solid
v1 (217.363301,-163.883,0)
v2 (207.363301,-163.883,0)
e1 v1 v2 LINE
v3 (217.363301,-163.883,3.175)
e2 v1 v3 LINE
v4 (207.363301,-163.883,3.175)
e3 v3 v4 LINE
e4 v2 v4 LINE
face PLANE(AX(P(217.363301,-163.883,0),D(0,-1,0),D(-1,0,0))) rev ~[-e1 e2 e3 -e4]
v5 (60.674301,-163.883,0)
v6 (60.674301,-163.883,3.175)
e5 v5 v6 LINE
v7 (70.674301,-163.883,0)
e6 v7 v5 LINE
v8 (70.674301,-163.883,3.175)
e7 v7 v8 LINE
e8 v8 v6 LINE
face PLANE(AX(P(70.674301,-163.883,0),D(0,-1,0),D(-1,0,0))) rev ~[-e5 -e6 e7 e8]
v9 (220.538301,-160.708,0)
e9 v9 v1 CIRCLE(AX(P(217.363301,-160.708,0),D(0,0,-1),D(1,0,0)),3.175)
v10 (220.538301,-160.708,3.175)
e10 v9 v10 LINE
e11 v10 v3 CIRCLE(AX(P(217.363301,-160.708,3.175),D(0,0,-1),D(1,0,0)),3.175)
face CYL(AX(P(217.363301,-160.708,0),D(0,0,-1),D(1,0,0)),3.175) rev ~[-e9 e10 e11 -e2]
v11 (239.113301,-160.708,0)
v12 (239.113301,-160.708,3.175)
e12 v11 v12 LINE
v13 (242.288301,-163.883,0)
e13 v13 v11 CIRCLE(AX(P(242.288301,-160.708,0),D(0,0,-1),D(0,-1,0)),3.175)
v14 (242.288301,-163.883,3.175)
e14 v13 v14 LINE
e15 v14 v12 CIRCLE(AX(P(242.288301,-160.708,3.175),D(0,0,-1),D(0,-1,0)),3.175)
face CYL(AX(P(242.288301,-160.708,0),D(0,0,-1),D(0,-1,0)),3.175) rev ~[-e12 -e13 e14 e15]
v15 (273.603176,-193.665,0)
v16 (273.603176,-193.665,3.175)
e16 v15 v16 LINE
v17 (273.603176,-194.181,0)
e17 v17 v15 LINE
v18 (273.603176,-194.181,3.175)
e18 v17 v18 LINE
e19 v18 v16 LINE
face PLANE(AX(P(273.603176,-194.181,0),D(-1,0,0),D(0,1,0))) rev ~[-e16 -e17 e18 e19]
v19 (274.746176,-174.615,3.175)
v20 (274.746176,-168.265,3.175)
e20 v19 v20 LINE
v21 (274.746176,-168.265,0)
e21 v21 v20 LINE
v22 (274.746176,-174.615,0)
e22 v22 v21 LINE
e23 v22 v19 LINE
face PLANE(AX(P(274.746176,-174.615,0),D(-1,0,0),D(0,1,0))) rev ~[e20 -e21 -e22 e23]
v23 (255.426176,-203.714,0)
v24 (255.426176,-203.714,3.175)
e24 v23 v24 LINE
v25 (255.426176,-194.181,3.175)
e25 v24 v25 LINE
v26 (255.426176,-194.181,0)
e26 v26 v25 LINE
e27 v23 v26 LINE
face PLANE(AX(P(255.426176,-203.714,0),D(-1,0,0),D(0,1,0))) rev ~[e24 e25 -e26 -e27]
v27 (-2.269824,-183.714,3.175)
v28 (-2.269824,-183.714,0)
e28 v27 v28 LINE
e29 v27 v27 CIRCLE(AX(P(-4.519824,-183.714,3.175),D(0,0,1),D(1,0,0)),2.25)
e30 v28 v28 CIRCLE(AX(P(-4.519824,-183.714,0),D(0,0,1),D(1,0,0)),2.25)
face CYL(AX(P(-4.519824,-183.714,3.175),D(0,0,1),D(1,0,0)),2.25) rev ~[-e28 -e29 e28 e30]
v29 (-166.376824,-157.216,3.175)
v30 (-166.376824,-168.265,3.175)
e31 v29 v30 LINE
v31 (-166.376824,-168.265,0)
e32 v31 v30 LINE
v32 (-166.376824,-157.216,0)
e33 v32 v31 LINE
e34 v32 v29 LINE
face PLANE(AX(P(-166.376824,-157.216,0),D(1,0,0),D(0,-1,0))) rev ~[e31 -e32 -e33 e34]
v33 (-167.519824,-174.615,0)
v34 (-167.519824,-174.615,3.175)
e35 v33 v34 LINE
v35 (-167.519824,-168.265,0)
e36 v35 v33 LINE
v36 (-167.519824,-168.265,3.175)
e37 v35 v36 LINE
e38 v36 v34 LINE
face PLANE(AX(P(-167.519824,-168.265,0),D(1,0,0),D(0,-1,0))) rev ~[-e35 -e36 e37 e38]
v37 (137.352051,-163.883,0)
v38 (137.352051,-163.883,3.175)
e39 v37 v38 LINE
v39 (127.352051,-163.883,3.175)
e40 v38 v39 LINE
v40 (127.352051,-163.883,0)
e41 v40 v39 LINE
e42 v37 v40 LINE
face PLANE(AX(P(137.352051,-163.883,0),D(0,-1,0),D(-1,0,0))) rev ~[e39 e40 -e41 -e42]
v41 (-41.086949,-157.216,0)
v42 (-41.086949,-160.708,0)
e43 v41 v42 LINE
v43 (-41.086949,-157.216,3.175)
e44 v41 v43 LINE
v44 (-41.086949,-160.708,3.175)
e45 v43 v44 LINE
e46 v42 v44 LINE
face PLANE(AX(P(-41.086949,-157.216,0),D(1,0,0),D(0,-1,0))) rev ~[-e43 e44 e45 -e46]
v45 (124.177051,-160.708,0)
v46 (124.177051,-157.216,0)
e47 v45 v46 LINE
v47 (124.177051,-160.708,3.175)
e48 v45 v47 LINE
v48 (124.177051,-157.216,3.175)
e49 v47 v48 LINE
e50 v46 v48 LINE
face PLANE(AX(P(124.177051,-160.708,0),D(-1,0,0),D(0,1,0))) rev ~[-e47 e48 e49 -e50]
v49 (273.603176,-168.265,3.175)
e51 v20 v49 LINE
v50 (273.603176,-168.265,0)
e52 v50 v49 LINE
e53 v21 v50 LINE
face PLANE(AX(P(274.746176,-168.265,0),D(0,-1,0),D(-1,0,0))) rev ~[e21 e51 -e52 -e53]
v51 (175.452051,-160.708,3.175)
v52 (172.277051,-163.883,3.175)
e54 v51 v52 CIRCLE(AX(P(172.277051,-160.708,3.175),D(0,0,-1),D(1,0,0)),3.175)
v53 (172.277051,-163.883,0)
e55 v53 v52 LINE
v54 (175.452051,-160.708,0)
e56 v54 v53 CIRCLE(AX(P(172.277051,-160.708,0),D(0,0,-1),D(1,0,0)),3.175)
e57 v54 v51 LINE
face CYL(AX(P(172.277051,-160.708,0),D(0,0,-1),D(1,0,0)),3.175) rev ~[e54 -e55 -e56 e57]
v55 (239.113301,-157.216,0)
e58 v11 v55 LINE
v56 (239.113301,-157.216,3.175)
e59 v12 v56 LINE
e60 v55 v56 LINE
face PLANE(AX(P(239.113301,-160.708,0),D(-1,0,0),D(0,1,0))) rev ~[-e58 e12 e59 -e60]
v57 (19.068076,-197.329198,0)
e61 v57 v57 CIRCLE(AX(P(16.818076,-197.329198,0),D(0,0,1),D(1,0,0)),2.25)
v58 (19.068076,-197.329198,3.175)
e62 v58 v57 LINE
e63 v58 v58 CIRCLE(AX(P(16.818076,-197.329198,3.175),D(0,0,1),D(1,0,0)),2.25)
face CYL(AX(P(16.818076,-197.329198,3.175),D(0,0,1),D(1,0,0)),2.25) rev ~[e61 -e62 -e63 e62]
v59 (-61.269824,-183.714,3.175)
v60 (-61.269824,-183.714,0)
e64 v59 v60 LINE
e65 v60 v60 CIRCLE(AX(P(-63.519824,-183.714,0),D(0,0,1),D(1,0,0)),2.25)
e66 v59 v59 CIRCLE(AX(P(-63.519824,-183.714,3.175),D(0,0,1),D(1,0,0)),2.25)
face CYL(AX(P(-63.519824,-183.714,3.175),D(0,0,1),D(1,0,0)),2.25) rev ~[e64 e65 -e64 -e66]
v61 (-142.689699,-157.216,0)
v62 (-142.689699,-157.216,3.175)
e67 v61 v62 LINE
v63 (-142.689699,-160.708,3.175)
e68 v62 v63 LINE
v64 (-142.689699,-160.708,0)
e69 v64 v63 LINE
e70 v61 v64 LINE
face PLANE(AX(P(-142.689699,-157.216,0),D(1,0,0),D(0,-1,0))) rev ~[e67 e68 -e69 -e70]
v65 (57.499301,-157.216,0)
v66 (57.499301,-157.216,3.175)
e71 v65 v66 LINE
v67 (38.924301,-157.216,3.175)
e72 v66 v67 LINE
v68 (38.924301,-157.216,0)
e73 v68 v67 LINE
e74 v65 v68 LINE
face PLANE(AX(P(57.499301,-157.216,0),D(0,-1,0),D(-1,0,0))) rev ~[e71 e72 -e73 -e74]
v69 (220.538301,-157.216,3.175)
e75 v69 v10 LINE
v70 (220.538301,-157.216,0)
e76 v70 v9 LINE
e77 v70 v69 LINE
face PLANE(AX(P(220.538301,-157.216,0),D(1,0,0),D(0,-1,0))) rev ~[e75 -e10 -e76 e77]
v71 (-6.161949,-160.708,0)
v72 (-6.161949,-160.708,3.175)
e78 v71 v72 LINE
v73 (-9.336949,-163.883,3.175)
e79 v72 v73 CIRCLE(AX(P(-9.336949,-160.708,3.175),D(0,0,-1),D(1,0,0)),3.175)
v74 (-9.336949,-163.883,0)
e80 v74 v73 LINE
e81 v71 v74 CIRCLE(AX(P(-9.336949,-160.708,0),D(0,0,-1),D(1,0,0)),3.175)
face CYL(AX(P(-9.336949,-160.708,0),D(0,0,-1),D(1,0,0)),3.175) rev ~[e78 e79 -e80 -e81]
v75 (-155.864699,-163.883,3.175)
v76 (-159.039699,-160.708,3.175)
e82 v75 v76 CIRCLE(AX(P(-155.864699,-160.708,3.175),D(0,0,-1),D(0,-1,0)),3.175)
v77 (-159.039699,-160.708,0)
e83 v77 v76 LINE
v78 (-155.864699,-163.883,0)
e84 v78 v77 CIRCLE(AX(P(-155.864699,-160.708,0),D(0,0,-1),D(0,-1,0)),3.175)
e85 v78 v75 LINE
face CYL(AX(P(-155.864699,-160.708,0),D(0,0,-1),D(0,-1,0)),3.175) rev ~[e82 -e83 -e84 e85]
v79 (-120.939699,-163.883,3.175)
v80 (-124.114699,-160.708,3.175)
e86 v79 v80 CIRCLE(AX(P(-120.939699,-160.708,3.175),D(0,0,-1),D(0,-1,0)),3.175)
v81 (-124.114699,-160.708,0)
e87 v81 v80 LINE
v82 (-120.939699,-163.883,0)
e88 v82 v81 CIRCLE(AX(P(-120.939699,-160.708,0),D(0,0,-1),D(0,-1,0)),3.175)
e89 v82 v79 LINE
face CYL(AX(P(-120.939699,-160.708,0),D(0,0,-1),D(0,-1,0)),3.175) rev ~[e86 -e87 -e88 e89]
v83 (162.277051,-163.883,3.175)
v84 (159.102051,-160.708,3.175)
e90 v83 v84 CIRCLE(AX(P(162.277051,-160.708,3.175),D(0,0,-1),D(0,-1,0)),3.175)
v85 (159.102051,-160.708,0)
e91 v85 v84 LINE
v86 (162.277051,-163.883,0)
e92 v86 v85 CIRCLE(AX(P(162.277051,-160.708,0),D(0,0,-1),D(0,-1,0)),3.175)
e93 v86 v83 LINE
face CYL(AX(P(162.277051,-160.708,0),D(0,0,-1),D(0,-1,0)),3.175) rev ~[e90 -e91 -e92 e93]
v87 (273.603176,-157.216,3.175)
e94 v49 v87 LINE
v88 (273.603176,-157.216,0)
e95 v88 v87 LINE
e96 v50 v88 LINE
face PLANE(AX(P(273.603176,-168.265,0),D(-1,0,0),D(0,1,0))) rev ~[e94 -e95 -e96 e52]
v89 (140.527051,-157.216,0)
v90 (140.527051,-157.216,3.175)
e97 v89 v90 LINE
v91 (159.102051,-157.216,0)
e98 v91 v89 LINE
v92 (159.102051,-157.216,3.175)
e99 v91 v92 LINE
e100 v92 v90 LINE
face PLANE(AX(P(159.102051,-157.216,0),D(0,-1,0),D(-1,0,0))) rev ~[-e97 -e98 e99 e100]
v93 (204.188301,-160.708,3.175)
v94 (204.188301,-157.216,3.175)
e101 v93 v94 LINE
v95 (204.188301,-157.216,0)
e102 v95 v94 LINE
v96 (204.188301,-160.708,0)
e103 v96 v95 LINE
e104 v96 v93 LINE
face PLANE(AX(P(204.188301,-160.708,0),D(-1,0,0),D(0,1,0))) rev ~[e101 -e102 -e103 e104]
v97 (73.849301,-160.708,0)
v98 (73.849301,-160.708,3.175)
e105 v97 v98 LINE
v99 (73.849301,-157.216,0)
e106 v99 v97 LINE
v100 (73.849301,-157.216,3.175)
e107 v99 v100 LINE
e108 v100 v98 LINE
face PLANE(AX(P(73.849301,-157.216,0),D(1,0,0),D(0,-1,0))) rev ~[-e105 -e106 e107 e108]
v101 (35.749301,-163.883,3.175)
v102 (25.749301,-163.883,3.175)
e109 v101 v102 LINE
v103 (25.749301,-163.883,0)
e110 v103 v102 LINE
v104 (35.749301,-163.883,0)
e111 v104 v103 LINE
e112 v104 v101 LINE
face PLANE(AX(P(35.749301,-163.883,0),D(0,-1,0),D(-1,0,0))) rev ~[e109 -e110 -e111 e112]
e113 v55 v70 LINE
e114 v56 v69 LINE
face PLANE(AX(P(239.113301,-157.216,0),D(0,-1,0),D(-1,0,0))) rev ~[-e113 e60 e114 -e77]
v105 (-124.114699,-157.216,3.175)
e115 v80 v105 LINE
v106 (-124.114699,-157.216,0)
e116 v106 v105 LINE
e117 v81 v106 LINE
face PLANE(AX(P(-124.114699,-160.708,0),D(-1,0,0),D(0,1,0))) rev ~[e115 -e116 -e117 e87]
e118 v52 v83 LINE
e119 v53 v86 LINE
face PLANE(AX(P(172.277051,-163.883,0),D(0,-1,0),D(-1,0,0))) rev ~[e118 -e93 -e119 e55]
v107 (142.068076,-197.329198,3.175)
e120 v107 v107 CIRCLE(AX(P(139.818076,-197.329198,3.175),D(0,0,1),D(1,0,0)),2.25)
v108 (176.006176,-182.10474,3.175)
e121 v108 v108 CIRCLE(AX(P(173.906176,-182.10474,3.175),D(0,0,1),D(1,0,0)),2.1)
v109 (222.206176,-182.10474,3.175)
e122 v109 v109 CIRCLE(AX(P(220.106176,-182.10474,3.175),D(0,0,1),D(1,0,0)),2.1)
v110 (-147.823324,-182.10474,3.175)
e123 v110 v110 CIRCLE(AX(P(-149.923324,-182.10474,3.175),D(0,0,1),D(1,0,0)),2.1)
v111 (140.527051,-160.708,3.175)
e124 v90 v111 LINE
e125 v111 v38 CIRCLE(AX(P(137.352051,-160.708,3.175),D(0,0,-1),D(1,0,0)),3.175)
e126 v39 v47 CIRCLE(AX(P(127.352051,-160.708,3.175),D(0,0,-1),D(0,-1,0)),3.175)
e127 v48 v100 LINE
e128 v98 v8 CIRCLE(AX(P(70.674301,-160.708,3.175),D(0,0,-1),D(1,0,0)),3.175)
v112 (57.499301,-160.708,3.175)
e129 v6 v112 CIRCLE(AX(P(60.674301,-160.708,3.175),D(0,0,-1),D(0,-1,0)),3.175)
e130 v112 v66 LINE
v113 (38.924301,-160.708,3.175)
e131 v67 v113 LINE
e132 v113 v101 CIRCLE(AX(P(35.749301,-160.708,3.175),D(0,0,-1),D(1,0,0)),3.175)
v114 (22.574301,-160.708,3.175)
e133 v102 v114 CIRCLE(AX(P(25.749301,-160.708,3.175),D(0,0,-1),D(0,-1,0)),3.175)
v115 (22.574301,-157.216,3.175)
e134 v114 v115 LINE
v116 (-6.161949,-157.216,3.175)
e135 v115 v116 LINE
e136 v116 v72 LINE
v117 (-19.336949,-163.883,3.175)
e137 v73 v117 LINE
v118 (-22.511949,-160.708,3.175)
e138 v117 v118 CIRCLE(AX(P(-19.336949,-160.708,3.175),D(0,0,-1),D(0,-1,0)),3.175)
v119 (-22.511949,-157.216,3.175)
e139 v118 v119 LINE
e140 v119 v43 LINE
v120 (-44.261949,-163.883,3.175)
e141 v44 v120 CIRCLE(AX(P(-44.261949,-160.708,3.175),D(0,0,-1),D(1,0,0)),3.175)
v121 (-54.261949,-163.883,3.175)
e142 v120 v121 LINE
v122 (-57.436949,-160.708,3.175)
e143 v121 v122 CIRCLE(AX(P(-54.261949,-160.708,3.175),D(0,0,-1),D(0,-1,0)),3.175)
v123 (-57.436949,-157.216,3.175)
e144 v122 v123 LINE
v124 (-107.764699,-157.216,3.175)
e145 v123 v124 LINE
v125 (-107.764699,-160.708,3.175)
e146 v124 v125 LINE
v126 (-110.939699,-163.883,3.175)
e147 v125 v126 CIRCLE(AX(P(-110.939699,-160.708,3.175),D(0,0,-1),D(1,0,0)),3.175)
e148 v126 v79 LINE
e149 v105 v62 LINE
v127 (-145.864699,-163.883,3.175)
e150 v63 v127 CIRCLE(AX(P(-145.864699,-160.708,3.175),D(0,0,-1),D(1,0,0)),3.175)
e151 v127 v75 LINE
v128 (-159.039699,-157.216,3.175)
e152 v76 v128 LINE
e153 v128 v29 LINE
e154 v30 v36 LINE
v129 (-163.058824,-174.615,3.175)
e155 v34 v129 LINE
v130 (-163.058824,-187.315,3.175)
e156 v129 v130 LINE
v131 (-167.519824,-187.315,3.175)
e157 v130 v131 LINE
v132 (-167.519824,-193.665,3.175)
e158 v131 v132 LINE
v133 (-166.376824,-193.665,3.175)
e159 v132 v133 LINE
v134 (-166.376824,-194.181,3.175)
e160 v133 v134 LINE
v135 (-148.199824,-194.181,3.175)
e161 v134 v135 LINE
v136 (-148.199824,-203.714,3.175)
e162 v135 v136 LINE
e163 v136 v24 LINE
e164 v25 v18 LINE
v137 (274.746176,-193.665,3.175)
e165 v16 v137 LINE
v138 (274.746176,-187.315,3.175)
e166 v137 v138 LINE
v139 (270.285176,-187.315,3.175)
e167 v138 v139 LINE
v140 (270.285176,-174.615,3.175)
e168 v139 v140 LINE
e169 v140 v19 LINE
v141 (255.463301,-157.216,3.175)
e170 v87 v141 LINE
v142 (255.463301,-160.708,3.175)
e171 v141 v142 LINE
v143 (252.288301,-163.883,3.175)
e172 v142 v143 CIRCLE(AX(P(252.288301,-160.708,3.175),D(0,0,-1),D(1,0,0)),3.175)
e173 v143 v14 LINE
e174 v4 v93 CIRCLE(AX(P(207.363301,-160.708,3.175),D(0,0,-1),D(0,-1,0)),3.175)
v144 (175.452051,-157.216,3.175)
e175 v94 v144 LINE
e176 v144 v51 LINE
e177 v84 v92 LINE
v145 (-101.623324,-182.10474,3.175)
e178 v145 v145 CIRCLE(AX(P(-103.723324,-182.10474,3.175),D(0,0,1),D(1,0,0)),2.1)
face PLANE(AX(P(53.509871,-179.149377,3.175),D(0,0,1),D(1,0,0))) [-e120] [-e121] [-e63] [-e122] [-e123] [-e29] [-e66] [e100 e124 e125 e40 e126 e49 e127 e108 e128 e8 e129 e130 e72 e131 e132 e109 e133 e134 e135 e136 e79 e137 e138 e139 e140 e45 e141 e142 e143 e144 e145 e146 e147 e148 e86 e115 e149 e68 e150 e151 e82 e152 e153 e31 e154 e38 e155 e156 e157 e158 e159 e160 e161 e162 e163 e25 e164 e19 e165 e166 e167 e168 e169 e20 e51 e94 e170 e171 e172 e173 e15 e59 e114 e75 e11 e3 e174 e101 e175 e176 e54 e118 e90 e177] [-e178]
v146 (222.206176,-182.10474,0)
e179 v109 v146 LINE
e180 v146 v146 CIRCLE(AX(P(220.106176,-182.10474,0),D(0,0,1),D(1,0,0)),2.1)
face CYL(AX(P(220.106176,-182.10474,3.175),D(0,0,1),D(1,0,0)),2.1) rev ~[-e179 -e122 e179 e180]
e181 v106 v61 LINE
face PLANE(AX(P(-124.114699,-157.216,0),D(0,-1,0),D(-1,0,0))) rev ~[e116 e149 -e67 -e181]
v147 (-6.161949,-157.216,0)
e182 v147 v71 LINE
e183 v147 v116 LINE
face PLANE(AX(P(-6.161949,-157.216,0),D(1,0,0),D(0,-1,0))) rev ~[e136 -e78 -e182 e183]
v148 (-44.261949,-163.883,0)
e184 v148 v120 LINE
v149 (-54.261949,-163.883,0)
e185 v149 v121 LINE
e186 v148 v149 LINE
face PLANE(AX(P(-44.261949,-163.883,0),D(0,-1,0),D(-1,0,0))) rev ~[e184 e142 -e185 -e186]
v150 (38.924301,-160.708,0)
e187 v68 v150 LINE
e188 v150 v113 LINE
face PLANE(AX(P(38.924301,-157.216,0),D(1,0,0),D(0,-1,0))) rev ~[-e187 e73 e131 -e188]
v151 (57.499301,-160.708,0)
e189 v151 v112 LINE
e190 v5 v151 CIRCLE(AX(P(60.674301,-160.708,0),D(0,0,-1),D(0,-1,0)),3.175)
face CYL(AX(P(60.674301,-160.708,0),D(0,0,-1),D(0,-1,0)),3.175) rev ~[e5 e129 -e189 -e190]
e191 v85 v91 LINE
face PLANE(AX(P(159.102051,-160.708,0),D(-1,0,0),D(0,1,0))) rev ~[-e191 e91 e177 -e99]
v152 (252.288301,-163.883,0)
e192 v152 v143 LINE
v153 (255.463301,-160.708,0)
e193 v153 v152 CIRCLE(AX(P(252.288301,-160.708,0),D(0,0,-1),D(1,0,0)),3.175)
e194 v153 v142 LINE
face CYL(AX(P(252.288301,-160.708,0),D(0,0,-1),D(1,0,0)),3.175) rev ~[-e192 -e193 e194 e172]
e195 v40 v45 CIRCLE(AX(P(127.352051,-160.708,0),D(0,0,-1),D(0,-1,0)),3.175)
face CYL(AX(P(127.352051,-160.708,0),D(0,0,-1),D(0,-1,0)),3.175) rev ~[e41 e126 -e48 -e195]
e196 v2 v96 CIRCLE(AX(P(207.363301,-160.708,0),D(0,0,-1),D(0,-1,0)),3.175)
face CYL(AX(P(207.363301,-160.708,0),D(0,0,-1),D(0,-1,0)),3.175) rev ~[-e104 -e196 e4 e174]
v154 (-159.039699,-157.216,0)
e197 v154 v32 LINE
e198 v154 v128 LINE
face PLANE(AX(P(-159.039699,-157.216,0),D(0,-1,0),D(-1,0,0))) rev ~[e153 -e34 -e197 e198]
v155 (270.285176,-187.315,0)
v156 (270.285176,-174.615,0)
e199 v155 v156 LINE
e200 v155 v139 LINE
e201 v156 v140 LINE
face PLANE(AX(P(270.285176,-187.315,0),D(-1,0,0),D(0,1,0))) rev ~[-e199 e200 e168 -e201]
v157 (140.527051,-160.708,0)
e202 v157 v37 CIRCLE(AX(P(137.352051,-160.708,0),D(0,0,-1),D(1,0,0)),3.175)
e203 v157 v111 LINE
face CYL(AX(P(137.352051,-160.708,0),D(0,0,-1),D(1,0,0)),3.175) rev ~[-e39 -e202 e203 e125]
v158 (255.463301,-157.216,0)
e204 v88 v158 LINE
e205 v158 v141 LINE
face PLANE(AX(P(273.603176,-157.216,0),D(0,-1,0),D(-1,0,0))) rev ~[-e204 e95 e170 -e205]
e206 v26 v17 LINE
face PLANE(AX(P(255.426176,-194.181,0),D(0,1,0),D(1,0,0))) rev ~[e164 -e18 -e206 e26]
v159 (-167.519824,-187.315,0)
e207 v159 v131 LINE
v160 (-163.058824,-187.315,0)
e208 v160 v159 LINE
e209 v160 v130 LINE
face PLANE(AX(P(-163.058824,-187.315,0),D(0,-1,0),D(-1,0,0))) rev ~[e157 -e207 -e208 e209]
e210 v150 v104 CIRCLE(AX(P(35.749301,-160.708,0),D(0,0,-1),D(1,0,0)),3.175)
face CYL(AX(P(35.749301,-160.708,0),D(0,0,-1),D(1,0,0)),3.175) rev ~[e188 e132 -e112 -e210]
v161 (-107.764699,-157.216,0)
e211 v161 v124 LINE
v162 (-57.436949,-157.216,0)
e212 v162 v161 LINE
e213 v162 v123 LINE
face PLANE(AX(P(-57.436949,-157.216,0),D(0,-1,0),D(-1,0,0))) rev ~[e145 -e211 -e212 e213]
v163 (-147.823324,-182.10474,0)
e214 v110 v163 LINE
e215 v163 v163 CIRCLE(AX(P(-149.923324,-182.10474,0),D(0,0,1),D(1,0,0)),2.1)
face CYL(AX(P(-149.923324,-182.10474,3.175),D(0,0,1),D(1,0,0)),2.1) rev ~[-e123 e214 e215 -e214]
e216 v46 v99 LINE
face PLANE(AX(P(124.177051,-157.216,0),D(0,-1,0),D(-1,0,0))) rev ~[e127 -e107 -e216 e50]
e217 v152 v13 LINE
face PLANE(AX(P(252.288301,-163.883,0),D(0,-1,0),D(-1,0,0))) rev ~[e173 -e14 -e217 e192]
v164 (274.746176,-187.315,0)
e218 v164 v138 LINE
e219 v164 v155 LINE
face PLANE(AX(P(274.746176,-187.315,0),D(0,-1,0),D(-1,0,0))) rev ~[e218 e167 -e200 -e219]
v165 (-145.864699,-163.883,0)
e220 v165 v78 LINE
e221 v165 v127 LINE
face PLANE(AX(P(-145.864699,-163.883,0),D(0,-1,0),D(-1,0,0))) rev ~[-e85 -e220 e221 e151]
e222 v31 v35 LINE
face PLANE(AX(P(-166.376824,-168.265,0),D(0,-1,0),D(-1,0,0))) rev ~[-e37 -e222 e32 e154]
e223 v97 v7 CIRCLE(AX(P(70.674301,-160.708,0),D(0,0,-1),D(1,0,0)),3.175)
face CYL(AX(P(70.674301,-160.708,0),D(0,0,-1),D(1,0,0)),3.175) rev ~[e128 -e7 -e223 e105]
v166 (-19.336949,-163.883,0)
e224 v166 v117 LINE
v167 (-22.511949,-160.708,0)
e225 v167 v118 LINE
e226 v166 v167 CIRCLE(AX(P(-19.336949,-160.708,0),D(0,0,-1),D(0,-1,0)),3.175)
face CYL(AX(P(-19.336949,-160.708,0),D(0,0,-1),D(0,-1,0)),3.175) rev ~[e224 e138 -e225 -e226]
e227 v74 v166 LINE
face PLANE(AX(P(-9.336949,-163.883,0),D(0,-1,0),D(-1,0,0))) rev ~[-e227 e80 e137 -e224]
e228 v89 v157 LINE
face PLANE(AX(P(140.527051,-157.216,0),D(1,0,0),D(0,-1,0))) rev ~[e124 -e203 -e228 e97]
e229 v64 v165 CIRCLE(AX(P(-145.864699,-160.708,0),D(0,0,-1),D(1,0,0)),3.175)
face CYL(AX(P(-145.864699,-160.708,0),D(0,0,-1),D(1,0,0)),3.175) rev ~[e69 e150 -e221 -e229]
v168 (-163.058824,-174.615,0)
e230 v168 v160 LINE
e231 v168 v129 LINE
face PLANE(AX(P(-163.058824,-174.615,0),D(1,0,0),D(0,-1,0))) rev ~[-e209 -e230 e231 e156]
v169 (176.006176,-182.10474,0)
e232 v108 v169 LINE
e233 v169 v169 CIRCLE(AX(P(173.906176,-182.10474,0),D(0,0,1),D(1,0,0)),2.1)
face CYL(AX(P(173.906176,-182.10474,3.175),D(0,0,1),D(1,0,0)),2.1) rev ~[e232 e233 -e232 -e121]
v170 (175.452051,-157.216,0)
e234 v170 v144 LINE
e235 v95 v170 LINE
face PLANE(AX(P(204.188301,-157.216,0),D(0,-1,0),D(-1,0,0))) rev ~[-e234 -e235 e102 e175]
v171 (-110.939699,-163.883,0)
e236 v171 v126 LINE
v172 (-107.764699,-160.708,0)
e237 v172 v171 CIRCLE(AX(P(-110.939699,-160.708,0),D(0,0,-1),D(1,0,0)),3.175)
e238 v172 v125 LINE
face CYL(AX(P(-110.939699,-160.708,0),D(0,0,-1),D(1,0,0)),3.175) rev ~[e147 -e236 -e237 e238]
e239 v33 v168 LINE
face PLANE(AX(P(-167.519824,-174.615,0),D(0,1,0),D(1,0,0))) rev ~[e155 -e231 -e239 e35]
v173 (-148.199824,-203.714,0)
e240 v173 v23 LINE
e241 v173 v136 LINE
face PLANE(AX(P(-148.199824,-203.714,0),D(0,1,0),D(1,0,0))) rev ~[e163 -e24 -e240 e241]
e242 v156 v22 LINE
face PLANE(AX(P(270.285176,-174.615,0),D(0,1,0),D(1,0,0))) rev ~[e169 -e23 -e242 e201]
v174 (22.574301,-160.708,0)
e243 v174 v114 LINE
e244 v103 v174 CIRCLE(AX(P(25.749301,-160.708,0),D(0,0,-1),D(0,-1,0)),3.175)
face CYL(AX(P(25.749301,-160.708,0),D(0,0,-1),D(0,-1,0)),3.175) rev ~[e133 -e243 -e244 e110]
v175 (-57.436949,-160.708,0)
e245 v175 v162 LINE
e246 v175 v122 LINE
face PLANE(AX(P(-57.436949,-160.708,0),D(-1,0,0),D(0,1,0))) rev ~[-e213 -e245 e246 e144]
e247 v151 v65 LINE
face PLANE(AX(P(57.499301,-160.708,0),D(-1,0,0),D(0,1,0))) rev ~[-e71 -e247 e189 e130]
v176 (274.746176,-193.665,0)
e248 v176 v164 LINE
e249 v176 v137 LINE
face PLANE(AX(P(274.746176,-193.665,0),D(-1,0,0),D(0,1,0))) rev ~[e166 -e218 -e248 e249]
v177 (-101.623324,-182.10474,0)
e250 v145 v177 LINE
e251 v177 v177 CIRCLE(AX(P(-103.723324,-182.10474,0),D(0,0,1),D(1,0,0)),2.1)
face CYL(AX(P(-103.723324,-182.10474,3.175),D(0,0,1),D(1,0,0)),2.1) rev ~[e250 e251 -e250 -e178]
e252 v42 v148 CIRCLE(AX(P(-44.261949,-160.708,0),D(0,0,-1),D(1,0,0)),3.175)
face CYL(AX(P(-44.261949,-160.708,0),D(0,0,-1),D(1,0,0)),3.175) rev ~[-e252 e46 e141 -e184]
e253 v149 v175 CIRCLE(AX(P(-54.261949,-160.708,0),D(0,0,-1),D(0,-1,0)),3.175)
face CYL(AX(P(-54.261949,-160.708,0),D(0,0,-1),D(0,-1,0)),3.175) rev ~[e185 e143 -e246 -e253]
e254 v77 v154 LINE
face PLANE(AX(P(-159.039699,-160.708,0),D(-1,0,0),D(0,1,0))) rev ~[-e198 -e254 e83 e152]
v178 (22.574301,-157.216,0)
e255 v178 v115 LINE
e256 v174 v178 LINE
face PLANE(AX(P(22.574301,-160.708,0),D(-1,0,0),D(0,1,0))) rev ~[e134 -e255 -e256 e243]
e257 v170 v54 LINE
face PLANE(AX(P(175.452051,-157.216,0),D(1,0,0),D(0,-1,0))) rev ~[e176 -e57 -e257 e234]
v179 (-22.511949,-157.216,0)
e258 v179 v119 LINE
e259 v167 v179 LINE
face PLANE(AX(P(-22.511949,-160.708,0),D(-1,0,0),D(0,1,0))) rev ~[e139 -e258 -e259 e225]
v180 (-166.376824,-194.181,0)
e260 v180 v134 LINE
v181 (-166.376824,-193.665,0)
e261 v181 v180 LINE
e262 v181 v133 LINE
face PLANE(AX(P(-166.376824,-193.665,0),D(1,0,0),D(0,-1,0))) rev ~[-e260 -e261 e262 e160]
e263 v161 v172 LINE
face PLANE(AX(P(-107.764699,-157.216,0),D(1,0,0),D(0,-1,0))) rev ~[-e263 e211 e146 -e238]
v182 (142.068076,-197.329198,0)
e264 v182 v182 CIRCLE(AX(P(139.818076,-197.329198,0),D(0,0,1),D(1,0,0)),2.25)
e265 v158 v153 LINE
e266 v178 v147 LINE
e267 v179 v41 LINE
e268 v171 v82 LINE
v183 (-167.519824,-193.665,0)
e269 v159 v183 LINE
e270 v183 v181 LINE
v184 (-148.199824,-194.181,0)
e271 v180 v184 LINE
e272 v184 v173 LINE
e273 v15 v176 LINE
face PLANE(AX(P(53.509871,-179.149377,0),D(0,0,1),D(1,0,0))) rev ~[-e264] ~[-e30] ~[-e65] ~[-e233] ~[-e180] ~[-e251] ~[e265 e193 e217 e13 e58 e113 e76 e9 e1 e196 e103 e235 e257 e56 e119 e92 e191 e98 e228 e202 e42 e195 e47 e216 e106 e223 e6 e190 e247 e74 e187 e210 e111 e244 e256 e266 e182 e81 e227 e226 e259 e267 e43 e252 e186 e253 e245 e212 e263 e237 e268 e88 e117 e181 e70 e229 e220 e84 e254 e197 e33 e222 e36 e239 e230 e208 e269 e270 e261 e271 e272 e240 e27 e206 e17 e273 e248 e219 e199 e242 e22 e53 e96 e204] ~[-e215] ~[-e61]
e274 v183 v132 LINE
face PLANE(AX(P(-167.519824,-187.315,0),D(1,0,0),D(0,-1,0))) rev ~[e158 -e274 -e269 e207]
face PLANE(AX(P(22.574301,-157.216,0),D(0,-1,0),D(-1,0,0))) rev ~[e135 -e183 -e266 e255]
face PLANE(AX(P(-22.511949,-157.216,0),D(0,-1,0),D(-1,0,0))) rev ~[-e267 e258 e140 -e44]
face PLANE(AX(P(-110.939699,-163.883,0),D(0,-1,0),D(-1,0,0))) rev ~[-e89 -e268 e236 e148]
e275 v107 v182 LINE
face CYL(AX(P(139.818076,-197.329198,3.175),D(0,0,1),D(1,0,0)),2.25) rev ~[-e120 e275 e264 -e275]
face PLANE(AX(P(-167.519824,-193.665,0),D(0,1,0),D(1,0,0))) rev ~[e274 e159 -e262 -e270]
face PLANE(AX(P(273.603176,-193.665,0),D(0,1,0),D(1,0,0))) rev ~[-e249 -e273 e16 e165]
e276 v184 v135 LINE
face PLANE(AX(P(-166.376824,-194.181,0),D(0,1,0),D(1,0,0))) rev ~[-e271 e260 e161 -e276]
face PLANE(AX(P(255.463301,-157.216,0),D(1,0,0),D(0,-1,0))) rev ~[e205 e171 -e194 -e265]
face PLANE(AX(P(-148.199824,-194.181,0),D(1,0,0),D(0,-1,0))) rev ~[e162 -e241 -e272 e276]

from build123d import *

# Parameters (mm, degrees)
BOSS_EXTRUDE1_DEPTH = 3.175
SKETCH4_R           = 2.1
SKETCH4_R_2         = 2.249999999
SKETCH4_R_3         = 2.25
CUT_EXTRUDE2_DEPTH  = 343.045224939


with BuildPart() as part:
    # Sketch2 → Boss-Extrude1 (new body)
    with BuildSketch(Plane.XY):
        with BuildLine():
            Line((-166.376823509, -157.21600002), (-166.376823509, -168.26500002))
            Line((-166.376823509, -168.26500002), (-167.519823509, -168.26500002))
            Line((-167.519823509, -168.26500002), (-167.519823509, -174.61500002))
            Line((-167.519823509, -174.61500002), (-163.058823509, -174.61500002))
            Line((-163.058823509, -174.61500002), (-163.058823509, -187.31500002))
            Line((-163.058823509, -187.31500002), (-167.519823509, -187.31500002))
            Line((-167.519823509, -187.31500002), (-167.519823509, -193.66500002))
            Line((-167.519823509, -193.66500002), (-166.376823509, -193.66500002))
            Line((-166.376823509, -193.66500002), (-166.376823509, -194.18100002))
            Line((-166.376823509, -194.18100002), (-148.199823509, -194.18100002))
            Line((-148.199823509, -194.18100002), (-148.199823509, -203.71400002))
            Line((-148.199823509, -203.71400002), (255.426176451, -203.71400002))
            Line((255.426176451, -203.71400002), (255.426176451, -194.18100002))
            Line((255.426176451, -194.18100002), (273.603176451, -194.18100002))
            Line((273.603176451, -194.18100002), (273.603176451, -193.66500002))
            Line((273.603176451, -193.66500002), (274.746176451, -193.66500002))
            Line((274.746176451, -193.66500002), (274.746176451, -187.31500002))
            Line((274.746176451, -187.31500002), (270.285176451, -187.31500002))
            Line((270.285176451, -187.31500002), (270.285176451, -174.61500002))
            Line((270.285176451, -174.61500002), (274.746176451, -174.61500002))
            Line((274.746176451, -174.61500002), (274.746176451, -168.26500002))
            Line((274.746176451, -168.26500002), (273.603176451, -168.26500002))
            Line((273.603176451, -168.26500002), (273.603176451, -157.21600002))
            Line((273.603176451, -157.21600002), (255.463301471, -157.21600002))
            Line((255.463301471, -157.21600002), (255.463301471, -160.70800002))
            ThreePointArc((255.463301471, -160.70800002), (254.533365501, -162.95306405), (252.288301471, -163.88300002))
            Line((252.288301471, -163.88300002), (242.288301471, -163.88300002))
            ThreePointArc((242.288301471, -163.88300002), (240.04323744, -162.95306405), (239.113301471, -160.70800002))
            Line((239.113301471, -160.70800002), (239.113301471, -157.21600002))
            Line((239.113301471, -157.21600002), (220.538301471, -157.21600002))
            Line((220.538301471, -157.21600002), (220.538301471, -160.70800002))
            ThreePointArc((220.538301471, -160.70800002), (219.608365501, -162.95306405), (217.363301471, -163.88300002))
            Line((217.363301471, -163.88300002), (207.363301471, -163.88300002))
            ThreePointArc((207.363301471, -163.88300002), (205.11823744, -162.95306405), (204.188301471, -160.70800002))
            Line((204.188301471, -160.70800002), (204.188301471, -157.21600002))
            Line((204.188301471, -157.21600002), (175.452051471, -157.21600002))
            Line((175.452051471, -157.21600002), (175.452051471, -160.70800002))
            ThreePointArc((175.452051471, -160.70800002), (174.522115501, -162.95306405), (172.277051471, -163.88300002))
            Line((172.277051471, -163.88300002), (162.277051471, -163.88300002))
            ThreePointArc((162.277051471, -163.88300002), (160.03198744, -162.95306405), (159.102051471, -160.70800002))
            Line((159.102051471, -160.70800002), (159.102051471, -157.21600002))
            Line((159.102051471, -157.21600002), (140.527051471, -157.21600002))
            Line((140.527051471, -157.21600002), (140.527051471, -160.70800002))
            ThreePointArc((140.527051471, -160.70800002), (139.597115501, -162.95306405), (137.352051471, -163.88300002))
            Line((137.352051471, -163.88300002), (127.352051471, -163.88300002))
            ThreePointArc((127.352051471, -163.88300002), (125.10698744, -162.95306405), (124.177051471, -160.70800002))
            Line((124.177051471, -160.70800002), (124.177051471, -157.21600002))
            Line((124.177051471, -157.21600002), (73.849301471, -157.21600002))
            Line((73.849301471, -157.21600002), (73.849301471, -160.70800002))
            ThreePointArc((73.849301471, -160.70800002), (72.919365501, -162.95306405), (70.674301471, -163.88300002))
            Line((70.674301471, -163.88300002), (60.674301471, -163.88300002))
            ThreePointArc((60.674301471, -163.88300002), (58.42923744, -162.95306405), (57.499301471, -160.70800002))
            Line((57.499301471, -160.70800002), (57.499301471, -157.21600002))
            Line((57.499301471, -157.21600002), (38.924301471, -157.21600002))
            Line((38.924301471, -157.21600002), (38.924301471, -160.70800002))
            ThreePointArc((38.924301471, -160.70800002), (37.994365501, -162.95306405), (35.749301471, -163.88300002))
            Line((35.749301471, -163.88300002), (25.749301471, -163.88300002))
            ThreePointArc((25.749301471, -163.88300002), (23.50423744, -162.95306405), (22.574301471, -160.70800002))
            Line((22.574301471, -160.70800002), (22.574301471, -157.21600002))
            Line((22.574301471, -157.21600002), (-6.161948529, -157.21600002))
            Line((-6.161948529, -157.21600002), (-6.161948529, -160.70800002))
            ThreePointArc((-6.161948529, -160.70800002), (-7.091884499, -162.95306405), (-9.336948529, -163.88300002))
            Line((-9.336948529, -163.88300002), (-19.336948529, -163.88300002))
            ThreePointArc((-19.336948529, -163.88300002), (-21.58201256, -162.95306405), (-22.511948529, -160.70800002))
            Line((-22.511948529, -160.70800002), (-22.511948529, -157.21600002))
            Line((-22.511948529, -157.21600002), (-41.086948529, -157.21600002))
            Line((-41.086948529, -157.21600002), (-41.086948529, -160.70800002))
            ThreePointArc((-41.086948529, -160.70800002), (-42.016884499, -162.95306405), (-44.261948529, -163.88300002))
            Line((-44.261948529, -163.88300002), (-54.261948529, -163.88300002))
            ThreePointArc((-54.261948529, -163.88300002), (-56.50701256, -162.95306405), (-57.436948529, -160.70800002))
            Line((-57.436948529, -160.70800002), (-57.436948529, -157.21600002))
            Line((-57.436948529, -157.21600002), (-107.764698529, -157.21600002))
            Line((-107.764698529, -157.21600002), (-107.764698529, -160.70800002))
            ThreePointArc((-107.764698529, -160.70800002), (-108.694634499, -162.95306405), (-110.939698529, -163.88300002))
            Line((-110.939698529, -163.88300002), (-120.939698529, -163.88300002))
            ThreePointArc((-120.939698529, -163.88300002), (-123.18476256, -162.95306405), (-124.114698529, -160.70800002))
            Line((-124.114698529, -160.70800002), (-124.114698529, -157.21600002))
            Line((-124.114698529, -157.21600002), (-142.689698529, -157.21600002))
            Line((-142.689698529, -157.21600002), (-142.689698529, -160.70800002))
            ThreePointArc((-142.689698529, -160.70800002), (-143.619634499, -162.95306405), (-145.864698529, -163.88300002))
            Line((-145.864698529, -163.88300002), (-155.864698529, -163.88300002))
            ThreePointArc((-155.864698529, -163.88300002), (-158.10976256, -162.95306405), (-159.039698529, -160.70800002))
            Line((-159.039698529, -160.70800002), (-159.039698529, -157.21600002))
            Line((-159.039698529, -157.21600002), (-166.376823509, -157.21600002))
        make_face()
    extrude(amount=BOSS_EXTRUDE1_DEPTH)

    # Sketch4 → Cut-Extrude2 (cut, through all)
    with BuildSketch(Plane.XY.offset(3.175)):
        with Locations((220.106176451, -182.10474)):
            Circle(SKETCH4_R)
        with Locations((173.906176451, -182.10474)):
            Circle(SKETCH4_R)
        with Locations((139.818076453, -197.329197783)):
            Circle(SKETCH4_R_2)
        with Locations((16.818076453, -197.329197783)):
            Circle(SKETCH4_R_2)
        with Locations((-4.519823509, -183.71400002)):
            Circle(SKETCH4_R_3)
        with Locations((-63.519823509, -183.71400002)):
            Circle(SKETCH4_R_3)
        with Locations((-103.723323529, -182.10474)):
            Circle(SKETCH4_R)
        with Locations((-149.923323529, -182.10474)):
            Circle(SKETCH4_R)
    extrude(amount=-CUT_EXTRUDE2_DEPTH, mode=Mode.SUBTRACT)


solid = part.part
